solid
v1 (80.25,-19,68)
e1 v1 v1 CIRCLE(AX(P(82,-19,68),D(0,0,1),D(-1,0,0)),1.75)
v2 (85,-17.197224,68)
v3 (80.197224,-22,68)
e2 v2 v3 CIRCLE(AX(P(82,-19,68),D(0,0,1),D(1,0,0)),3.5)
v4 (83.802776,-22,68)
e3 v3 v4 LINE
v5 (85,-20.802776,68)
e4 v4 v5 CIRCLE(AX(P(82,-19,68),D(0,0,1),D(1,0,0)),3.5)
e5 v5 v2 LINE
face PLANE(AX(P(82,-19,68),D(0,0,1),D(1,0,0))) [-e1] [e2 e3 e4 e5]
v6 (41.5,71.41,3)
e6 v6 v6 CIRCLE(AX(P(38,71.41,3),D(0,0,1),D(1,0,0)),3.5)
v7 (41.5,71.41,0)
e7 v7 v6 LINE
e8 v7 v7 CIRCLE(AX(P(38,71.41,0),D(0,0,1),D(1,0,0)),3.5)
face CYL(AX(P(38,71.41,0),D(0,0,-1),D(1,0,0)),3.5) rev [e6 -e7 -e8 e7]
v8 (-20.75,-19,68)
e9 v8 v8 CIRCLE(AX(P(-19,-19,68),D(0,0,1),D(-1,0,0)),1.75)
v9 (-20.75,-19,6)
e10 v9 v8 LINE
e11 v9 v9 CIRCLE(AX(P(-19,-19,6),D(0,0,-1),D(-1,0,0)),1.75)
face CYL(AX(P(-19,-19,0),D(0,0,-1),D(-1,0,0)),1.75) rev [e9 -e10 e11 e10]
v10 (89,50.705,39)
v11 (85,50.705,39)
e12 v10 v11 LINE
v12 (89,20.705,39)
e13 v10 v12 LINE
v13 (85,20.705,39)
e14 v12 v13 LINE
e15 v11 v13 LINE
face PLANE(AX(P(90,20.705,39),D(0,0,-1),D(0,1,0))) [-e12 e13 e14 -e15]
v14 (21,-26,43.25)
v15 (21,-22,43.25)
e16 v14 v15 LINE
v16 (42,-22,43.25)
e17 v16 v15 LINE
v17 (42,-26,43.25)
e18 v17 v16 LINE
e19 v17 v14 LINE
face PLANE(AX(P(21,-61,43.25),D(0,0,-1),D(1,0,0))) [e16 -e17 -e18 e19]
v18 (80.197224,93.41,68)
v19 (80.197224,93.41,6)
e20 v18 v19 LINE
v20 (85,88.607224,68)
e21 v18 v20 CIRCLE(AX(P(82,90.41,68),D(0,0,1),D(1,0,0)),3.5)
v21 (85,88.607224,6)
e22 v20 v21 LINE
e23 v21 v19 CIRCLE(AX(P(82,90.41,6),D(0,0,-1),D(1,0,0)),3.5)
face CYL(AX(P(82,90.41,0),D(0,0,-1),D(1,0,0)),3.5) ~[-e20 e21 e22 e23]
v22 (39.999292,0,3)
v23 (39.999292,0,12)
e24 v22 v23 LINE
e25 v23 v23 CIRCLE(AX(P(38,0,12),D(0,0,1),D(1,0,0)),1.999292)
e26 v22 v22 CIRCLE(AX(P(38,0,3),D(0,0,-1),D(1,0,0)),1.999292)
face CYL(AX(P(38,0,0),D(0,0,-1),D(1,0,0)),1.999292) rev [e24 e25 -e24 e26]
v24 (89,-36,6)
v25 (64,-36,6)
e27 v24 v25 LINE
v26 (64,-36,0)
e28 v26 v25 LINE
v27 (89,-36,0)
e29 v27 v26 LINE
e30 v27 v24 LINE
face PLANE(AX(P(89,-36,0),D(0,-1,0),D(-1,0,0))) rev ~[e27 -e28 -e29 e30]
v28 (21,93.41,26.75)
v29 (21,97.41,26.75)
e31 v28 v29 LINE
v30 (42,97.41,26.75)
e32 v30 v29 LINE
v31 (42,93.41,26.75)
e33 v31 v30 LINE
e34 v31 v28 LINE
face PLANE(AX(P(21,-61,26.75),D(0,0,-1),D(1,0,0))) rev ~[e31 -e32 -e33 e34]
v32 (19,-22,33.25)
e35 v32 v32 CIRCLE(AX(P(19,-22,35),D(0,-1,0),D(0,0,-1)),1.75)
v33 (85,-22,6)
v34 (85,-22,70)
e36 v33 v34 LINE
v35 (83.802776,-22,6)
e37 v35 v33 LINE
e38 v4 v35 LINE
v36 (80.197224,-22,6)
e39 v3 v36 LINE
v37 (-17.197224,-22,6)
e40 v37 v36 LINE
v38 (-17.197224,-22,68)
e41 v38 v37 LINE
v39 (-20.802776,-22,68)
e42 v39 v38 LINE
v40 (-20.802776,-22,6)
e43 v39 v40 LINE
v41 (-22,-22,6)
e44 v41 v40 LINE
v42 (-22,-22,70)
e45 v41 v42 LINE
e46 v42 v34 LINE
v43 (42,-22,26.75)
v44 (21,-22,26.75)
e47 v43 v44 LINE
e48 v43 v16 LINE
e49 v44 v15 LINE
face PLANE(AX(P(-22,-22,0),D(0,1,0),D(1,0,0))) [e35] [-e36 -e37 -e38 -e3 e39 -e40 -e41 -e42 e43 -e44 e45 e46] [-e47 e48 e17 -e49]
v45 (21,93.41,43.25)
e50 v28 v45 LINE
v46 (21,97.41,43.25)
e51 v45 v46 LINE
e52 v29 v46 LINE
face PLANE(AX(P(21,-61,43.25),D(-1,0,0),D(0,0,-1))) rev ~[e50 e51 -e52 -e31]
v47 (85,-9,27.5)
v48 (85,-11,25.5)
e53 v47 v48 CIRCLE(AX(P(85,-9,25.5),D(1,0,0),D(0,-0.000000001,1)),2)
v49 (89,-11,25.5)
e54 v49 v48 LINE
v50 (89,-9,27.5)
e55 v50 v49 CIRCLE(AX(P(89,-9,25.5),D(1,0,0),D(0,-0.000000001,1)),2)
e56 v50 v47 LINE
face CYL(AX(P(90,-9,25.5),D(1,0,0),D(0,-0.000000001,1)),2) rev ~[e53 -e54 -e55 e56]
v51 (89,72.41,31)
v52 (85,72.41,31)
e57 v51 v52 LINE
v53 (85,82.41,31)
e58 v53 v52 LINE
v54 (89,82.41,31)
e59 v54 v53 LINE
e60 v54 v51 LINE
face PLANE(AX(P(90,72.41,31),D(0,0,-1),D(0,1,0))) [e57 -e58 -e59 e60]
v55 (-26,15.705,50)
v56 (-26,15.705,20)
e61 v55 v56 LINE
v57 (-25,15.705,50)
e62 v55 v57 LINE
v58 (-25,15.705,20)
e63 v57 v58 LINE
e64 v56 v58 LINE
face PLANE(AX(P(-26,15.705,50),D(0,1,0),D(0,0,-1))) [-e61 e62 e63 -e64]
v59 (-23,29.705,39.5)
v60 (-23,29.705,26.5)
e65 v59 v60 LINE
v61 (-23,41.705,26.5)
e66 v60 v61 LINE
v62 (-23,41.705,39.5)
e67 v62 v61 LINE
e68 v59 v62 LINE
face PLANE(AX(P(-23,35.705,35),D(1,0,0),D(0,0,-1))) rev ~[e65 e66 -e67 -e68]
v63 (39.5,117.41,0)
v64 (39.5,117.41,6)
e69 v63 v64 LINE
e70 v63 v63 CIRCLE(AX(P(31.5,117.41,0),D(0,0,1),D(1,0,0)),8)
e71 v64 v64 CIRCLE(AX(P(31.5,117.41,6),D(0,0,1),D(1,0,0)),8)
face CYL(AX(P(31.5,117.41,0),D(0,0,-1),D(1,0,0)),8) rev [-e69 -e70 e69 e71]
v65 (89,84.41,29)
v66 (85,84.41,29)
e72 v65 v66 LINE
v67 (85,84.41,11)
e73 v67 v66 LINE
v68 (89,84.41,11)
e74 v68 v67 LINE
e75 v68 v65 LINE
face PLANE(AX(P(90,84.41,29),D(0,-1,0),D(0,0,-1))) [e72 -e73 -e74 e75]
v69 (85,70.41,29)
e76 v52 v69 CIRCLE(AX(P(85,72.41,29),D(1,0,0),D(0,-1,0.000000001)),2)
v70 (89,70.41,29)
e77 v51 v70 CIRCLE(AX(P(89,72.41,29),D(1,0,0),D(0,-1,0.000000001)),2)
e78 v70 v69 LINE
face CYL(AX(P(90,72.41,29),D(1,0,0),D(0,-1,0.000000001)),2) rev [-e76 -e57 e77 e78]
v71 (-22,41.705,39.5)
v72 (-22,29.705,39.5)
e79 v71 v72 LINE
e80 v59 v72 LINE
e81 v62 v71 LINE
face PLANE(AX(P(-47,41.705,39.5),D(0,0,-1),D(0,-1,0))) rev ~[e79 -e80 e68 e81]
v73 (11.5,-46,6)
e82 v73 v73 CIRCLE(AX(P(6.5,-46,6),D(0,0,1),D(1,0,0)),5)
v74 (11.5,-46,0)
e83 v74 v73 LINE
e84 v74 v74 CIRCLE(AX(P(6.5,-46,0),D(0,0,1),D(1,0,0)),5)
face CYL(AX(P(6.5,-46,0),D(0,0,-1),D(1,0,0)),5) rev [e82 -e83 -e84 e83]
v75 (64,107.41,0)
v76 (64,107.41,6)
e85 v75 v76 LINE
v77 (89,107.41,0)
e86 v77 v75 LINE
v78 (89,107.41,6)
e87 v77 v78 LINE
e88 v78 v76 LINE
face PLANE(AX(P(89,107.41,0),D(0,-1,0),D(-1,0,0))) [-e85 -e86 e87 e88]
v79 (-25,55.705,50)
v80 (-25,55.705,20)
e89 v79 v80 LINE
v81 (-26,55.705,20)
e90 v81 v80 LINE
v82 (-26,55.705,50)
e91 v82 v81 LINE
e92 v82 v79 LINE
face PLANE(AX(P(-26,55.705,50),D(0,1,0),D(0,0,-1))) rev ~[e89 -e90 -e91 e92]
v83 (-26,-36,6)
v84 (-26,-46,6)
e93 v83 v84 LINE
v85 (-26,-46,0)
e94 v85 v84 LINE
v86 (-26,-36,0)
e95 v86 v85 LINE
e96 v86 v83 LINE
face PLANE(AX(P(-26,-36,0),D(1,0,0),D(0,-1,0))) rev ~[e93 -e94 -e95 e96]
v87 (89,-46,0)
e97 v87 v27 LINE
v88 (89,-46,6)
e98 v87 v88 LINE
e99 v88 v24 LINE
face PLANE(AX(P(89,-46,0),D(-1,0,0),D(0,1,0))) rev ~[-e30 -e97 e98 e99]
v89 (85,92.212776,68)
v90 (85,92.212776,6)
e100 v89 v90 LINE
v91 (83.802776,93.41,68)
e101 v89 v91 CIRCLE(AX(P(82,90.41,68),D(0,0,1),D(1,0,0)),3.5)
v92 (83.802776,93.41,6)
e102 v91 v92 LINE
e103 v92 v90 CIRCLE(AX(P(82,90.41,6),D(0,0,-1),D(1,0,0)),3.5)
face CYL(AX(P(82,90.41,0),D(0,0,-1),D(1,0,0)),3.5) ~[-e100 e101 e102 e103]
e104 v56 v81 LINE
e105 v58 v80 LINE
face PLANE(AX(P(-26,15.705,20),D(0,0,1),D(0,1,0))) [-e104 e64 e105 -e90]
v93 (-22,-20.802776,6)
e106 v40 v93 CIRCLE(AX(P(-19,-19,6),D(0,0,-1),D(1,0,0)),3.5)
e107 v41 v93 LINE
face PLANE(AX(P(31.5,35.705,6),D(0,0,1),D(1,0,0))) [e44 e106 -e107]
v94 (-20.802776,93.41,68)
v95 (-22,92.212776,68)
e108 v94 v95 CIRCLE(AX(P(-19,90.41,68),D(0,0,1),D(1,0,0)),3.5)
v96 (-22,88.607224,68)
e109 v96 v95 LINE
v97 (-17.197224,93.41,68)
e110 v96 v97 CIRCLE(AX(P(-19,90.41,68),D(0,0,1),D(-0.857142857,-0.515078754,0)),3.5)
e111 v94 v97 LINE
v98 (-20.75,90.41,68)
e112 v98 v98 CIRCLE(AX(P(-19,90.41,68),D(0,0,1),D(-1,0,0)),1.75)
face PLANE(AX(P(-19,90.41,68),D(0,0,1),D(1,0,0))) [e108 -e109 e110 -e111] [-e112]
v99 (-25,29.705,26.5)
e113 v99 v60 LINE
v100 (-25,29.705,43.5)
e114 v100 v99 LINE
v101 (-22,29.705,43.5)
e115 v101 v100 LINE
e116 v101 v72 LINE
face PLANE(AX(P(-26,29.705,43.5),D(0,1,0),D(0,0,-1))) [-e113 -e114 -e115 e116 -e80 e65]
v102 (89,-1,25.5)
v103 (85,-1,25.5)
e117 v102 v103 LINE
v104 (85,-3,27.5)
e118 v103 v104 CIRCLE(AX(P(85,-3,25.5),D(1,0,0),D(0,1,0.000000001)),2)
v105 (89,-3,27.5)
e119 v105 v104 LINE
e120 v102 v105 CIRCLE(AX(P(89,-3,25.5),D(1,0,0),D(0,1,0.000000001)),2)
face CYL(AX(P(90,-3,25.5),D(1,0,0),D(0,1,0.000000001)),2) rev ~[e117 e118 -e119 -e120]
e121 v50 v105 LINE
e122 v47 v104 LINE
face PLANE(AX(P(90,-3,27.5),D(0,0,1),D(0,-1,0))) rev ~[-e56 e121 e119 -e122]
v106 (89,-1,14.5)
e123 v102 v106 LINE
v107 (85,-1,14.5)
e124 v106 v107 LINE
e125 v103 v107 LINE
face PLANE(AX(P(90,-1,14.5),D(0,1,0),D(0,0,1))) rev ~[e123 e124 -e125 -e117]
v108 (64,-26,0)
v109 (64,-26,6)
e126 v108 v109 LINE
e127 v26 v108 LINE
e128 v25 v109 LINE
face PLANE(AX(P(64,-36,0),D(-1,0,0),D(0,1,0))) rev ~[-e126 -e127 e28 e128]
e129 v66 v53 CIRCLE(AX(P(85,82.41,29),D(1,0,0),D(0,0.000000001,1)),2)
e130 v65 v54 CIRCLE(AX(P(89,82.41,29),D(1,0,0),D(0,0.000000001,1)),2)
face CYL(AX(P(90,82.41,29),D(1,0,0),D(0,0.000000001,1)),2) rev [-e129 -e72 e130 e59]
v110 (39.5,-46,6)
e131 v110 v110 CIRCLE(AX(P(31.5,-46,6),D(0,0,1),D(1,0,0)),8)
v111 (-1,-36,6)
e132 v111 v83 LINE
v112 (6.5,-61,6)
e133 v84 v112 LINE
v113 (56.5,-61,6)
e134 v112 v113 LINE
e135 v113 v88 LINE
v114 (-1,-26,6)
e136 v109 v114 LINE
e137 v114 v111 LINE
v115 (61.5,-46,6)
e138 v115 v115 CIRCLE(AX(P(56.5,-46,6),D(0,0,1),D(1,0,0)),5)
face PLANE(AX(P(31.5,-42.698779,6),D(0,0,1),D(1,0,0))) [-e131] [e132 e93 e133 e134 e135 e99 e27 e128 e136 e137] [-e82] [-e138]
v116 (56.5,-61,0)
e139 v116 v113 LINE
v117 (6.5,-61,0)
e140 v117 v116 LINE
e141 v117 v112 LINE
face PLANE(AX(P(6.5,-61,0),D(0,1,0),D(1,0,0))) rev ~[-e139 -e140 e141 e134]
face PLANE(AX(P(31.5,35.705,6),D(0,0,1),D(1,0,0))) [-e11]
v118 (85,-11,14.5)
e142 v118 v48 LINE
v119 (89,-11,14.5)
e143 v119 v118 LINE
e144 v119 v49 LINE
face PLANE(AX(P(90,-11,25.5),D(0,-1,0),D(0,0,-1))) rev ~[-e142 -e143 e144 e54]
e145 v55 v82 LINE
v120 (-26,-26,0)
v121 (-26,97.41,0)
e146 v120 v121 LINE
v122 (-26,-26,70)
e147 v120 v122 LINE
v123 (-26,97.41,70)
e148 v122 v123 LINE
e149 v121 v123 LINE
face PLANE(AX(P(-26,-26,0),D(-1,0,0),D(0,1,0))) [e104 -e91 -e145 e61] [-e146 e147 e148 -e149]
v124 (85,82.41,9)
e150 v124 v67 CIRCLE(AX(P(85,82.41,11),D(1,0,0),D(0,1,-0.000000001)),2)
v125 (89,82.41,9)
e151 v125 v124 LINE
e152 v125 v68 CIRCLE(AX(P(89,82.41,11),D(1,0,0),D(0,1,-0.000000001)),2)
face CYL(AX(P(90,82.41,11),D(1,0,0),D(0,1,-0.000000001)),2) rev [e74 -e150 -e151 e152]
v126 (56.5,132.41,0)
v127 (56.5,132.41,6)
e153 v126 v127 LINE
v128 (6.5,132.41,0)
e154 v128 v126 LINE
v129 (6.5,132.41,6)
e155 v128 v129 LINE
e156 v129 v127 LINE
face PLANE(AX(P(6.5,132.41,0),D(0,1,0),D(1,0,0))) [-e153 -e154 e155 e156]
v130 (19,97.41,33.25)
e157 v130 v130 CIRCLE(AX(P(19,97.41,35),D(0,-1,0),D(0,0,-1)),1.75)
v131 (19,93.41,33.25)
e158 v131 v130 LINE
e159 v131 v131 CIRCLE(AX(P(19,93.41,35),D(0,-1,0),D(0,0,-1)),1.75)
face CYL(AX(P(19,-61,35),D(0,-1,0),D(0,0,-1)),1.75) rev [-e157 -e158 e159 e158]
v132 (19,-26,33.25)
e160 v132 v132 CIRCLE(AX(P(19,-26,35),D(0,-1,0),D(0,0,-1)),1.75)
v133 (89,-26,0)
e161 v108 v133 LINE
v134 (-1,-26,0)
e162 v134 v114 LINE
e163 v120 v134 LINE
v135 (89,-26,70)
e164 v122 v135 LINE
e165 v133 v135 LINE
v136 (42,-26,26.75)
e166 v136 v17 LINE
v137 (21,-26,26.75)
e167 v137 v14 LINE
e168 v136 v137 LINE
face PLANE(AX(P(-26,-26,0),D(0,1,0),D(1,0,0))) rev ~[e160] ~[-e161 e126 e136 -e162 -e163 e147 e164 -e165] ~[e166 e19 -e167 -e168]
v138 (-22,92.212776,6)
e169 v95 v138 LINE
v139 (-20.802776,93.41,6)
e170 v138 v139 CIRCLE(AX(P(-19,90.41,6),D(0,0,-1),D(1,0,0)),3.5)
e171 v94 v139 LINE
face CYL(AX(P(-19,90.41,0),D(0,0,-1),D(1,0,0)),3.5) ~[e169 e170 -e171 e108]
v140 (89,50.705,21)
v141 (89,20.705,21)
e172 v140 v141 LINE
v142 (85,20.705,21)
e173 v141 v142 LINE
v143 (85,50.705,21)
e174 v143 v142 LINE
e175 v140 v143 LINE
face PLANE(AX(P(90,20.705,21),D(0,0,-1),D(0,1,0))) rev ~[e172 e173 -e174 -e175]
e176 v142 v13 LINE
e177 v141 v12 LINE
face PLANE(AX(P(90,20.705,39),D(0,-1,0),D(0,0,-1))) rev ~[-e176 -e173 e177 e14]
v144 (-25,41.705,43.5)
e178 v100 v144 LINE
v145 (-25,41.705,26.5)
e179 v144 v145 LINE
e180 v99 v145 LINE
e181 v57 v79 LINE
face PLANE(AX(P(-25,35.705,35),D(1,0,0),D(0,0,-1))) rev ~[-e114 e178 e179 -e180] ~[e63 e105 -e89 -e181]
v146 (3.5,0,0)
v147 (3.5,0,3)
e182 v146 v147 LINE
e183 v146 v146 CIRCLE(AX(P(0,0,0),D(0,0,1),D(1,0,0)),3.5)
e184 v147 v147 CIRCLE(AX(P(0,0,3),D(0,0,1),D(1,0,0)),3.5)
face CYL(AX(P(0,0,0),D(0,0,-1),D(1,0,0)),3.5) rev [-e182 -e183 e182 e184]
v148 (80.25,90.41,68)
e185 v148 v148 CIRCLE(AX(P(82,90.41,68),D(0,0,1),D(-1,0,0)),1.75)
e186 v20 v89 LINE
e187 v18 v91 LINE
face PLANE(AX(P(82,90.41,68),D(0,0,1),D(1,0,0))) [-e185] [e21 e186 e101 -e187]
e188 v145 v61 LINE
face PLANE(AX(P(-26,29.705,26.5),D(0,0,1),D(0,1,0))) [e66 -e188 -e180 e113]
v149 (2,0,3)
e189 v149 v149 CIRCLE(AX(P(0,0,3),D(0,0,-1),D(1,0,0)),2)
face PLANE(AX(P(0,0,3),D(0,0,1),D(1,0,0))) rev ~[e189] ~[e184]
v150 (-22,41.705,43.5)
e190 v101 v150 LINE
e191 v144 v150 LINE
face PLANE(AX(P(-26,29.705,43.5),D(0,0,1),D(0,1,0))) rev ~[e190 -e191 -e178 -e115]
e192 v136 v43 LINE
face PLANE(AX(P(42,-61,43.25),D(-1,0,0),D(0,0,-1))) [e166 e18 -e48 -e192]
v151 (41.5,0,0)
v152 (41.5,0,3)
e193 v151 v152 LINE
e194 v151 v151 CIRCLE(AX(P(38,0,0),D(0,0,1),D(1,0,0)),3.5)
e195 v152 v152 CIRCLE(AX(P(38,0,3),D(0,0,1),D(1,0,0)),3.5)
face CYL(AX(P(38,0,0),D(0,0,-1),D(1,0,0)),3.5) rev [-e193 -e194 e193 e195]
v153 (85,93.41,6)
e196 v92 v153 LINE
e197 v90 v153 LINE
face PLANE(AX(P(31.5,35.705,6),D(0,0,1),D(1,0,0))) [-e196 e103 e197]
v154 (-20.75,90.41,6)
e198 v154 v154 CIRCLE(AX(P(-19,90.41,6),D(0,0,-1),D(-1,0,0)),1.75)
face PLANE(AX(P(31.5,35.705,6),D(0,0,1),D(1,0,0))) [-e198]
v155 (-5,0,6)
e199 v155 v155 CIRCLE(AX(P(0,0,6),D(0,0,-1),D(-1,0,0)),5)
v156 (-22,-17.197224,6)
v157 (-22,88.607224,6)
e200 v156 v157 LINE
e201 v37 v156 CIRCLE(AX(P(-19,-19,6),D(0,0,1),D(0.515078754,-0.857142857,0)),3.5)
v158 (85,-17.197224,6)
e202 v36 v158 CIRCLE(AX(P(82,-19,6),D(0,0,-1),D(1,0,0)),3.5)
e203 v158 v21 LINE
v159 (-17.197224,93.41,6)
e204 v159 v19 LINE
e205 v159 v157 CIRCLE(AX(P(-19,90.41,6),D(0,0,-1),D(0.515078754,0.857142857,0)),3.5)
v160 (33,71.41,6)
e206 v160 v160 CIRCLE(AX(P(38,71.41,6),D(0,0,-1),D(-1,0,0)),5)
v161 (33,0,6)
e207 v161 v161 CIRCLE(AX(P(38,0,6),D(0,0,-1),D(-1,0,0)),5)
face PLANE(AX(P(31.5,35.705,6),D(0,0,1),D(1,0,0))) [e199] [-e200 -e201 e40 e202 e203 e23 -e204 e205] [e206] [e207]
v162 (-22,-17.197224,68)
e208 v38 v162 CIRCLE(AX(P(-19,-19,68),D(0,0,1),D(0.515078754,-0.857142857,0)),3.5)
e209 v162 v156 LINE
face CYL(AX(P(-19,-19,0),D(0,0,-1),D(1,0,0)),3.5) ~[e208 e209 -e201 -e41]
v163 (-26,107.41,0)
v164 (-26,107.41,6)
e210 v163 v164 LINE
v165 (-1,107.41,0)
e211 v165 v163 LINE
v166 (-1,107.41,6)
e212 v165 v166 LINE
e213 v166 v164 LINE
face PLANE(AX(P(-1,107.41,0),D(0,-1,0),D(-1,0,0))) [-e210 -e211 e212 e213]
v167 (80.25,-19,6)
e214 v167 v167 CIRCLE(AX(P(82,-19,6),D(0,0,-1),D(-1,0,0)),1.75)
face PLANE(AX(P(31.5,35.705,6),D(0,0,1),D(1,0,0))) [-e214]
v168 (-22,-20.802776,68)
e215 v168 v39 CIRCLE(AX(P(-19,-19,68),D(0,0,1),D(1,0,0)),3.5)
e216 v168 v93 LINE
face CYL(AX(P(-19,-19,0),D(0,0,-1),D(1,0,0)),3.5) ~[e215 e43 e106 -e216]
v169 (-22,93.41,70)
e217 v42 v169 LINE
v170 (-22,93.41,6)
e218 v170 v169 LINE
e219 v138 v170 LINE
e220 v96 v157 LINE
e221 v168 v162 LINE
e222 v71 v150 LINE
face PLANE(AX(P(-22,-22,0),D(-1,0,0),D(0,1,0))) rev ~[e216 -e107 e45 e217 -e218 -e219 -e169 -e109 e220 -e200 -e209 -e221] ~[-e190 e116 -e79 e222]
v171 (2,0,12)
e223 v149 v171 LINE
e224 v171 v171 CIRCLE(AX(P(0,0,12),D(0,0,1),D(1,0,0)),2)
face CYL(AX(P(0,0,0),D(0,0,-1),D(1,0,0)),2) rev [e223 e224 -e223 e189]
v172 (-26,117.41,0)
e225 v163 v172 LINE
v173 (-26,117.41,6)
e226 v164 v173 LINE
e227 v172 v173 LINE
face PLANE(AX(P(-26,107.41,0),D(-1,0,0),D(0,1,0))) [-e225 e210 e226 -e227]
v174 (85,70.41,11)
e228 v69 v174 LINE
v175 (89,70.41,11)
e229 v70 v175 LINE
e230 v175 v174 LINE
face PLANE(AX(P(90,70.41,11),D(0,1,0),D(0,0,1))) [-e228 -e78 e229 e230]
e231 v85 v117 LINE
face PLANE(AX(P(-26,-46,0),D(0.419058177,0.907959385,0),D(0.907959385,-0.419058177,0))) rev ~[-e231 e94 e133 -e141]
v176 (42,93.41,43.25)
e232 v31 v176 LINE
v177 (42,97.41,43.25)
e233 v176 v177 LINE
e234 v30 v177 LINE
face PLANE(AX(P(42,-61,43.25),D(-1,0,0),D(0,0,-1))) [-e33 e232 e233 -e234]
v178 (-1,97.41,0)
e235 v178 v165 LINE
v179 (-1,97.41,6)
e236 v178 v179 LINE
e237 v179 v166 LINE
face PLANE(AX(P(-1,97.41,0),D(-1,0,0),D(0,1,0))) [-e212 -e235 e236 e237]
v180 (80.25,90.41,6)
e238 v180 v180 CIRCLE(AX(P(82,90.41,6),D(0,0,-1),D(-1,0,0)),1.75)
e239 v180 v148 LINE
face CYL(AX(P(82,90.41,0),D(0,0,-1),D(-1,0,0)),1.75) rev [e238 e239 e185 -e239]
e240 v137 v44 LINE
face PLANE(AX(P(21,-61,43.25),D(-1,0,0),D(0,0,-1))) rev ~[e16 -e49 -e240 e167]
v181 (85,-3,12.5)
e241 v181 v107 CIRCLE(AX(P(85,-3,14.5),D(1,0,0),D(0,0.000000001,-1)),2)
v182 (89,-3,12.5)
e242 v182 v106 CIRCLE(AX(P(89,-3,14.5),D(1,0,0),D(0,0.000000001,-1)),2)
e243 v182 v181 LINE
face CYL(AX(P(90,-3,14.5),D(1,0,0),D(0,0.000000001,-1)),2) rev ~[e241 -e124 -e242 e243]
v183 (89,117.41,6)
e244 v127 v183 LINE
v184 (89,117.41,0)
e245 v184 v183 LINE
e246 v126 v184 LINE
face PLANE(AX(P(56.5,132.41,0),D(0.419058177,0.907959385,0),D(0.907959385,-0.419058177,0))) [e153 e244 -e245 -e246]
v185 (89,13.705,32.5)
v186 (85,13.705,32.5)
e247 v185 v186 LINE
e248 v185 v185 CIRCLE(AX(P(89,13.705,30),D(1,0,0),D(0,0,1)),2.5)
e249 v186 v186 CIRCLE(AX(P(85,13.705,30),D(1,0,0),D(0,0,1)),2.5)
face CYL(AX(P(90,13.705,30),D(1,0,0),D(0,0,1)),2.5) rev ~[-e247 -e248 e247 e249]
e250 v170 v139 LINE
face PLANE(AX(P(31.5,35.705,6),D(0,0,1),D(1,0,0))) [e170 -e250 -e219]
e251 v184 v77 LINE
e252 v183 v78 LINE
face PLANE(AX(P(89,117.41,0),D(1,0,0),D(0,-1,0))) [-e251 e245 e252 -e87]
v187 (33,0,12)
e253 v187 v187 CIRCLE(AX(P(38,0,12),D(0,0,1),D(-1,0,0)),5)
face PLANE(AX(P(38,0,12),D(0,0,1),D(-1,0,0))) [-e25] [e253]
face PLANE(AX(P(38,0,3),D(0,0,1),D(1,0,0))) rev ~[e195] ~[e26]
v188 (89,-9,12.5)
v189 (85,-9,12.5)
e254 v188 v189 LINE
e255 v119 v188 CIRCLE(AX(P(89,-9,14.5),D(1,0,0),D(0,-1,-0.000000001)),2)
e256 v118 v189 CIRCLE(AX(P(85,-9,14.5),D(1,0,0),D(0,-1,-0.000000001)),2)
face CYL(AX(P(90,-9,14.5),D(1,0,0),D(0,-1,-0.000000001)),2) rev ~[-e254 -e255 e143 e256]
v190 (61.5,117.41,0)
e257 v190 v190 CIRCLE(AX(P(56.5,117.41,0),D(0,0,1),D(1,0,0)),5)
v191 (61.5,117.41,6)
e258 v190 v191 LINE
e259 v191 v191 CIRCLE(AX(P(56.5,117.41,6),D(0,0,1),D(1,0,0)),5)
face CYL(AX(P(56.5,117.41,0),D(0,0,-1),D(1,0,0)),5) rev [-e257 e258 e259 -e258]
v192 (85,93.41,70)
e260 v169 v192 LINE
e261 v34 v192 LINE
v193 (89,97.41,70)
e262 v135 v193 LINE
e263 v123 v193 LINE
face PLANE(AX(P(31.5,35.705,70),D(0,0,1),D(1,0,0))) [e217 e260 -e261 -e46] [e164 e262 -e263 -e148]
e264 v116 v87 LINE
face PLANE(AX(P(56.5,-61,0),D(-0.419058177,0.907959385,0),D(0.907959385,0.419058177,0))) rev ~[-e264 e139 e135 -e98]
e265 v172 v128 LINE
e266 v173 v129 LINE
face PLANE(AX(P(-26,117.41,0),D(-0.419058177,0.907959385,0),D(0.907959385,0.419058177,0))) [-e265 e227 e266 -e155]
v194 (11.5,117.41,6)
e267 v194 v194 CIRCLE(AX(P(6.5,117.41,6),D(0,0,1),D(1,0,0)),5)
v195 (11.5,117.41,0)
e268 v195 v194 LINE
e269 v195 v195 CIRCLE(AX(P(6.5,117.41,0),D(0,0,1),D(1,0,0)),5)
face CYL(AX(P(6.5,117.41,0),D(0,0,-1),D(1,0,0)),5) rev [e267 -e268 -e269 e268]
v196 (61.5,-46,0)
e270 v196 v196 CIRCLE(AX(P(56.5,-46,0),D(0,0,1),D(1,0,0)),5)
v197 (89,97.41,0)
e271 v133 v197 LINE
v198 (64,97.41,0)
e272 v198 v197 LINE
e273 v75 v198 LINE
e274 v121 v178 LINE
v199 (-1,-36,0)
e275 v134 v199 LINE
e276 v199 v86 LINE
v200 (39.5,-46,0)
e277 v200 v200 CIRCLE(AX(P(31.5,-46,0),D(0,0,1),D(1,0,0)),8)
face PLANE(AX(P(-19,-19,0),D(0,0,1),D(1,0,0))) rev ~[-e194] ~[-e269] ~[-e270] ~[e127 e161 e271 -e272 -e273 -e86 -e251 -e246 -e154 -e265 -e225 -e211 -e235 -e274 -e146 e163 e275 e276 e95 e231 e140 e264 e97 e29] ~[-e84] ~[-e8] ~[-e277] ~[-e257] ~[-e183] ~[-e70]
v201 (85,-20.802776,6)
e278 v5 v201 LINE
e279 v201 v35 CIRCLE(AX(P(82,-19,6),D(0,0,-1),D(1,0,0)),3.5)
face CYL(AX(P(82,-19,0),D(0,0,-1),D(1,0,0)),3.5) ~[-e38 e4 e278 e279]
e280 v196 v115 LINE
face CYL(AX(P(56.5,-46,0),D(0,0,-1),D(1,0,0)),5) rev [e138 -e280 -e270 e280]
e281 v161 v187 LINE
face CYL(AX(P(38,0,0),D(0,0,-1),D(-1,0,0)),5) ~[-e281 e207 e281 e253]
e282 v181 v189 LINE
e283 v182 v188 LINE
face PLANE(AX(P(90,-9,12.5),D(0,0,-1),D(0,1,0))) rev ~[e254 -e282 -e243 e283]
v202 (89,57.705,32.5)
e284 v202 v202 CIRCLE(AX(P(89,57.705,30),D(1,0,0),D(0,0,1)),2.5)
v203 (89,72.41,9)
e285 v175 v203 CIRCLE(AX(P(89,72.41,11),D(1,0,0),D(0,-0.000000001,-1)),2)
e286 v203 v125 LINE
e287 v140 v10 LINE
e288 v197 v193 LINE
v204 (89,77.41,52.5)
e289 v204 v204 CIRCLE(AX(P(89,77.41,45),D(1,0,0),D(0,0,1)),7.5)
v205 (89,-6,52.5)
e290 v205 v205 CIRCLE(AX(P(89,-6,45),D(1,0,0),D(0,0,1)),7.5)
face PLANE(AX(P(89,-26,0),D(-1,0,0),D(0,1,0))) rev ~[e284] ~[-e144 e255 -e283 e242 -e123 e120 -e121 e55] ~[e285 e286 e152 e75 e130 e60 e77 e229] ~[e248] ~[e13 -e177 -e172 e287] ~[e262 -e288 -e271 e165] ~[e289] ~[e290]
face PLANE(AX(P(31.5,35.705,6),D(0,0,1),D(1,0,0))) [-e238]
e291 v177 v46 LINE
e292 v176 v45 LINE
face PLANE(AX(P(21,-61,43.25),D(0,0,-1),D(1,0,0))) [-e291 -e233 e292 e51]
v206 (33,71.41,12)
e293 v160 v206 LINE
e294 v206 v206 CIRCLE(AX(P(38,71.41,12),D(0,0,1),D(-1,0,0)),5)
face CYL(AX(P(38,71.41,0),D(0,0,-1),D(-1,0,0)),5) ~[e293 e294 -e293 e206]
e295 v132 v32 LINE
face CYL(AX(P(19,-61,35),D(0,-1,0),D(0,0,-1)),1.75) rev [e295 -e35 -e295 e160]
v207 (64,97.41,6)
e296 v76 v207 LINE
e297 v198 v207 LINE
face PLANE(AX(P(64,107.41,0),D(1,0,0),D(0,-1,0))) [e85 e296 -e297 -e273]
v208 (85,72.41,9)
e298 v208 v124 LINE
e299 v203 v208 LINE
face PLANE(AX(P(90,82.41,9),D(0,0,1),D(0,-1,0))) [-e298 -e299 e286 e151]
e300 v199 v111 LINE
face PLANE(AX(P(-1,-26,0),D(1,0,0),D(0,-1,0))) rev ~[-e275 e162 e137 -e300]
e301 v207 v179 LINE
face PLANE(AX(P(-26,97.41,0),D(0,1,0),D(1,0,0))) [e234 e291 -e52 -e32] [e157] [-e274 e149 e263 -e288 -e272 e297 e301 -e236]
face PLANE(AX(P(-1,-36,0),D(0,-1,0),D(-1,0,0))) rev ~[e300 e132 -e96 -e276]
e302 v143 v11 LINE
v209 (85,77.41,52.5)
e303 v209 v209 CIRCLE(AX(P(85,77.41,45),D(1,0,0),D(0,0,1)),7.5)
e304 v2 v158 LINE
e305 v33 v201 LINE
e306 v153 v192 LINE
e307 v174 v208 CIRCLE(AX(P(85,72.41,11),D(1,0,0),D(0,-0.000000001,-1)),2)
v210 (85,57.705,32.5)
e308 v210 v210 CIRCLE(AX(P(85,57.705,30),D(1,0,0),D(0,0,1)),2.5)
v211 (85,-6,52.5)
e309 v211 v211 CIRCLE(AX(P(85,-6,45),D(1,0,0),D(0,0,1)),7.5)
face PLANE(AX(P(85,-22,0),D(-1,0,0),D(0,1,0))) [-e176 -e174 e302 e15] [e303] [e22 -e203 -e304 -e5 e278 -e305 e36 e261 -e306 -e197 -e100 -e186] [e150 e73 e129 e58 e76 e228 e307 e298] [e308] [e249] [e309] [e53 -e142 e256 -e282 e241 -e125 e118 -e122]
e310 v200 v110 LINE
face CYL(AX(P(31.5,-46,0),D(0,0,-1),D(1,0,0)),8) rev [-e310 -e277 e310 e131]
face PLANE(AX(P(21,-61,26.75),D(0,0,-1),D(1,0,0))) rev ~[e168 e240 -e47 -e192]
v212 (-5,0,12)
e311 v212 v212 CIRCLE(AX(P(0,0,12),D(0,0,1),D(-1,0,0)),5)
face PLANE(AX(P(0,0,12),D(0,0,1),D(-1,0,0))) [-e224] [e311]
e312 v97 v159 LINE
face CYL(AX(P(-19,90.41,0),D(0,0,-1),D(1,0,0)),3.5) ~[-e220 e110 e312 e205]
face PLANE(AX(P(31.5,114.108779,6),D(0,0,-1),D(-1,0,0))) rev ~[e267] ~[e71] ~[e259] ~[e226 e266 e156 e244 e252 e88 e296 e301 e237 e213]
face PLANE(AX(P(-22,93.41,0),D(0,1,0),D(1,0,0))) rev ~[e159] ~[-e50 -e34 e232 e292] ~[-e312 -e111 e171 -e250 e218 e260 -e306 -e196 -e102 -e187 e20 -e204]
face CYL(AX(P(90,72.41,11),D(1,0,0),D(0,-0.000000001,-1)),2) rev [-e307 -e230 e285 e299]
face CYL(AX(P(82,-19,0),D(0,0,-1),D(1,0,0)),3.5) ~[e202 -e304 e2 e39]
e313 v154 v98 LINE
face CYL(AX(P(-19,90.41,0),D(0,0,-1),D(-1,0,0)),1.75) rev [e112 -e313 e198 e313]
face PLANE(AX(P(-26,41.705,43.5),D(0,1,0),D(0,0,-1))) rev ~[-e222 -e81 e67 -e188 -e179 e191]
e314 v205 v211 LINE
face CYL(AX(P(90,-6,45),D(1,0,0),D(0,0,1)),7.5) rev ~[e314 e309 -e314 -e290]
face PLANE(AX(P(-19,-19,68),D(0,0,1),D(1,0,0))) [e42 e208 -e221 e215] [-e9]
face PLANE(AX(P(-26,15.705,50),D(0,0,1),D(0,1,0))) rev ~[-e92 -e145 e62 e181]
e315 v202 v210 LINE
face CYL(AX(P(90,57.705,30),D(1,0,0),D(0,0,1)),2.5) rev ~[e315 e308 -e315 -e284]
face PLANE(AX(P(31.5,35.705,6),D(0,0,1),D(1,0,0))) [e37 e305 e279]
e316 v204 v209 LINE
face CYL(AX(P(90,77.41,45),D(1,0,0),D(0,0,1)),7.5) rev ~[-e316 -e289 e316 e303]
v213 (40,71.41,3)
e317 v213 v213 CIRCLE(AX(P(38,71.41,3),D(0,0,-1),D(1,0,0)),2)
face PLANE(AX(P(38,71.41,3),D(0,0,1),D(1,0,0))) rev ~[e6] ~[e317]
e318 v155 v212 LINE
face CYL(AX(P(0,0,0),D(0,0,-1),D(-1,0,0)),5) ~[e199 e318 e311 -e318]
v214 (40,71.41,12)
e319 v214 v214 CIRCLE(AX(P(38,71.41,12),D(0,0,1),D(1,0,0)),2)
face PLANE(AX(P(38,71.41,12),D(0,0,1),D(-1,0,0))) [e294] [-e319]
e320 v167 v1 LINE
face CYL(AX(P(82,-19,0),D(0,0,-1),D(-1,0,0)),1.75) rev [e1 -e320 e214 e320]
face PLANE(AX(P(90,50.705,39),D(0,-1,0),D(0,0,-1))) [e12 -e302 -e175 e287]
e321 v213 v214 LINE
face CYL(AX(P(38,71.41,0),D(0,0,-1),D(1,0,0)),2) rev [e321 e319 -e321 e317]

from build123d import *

# Parameters (mm, degrees)
CROQUIS1_W                 = 107
CROQUIS1_H                 = 115.41
CROQUIS1_R                 = 2
SALIENTE_EXTRUIR1_DEPTH    = 6
CROQUIS2_W                 = 115
CROQUIS2_H                 = 123.41
CROQUIS2_W_2               = 107
CROQUIS2_H_2               = 115.41
SALIENTE_EXTRUIR2_DEPTH    = 70
CROQUIS3_R                 = 7.5
CORTAR_EXTRUIR1_DEPTH      = 51
CORTAR_EXTRUIR2_DEPTH      = 166
CORTAR_EXTRUIR2_DEPTH_BACK = 31
CROQUIS4_R                 = 1.75
CROQUIS4_W                 = 21
CROQUIS4_H                 = 16.5
CROQUIS6_W                 = 17
CROQUIS6_H                 = 12
CORTAR_EXTRUIR3_DEPTH      = 3
CORTAR_EXTRUIR4_DEPTH      = 18
CORTAR_EXTRUIR4_DEPTH_BACK = 21
CROQUIS8_W                 = 30
CROQUIS8_H                 = 40
CORTAR_EXTRUIR5_DEPTH      = 1
CROQUIS9_R                 = 5
CROQUIS9_R_2               = 1.999291975
CROQUIS9_R_3               = 2
SALIENTE_EXTRUIR3_DEPTH    = 12
CROQUIS10_R                = 3.5
CORTAR_EXTRUIR6_DEPTH      = 3
CROQUIS11_R                = 3.5
CROQUIS11_R_2              = 1.75
SALIENTE_EXTRUIR4_DEPTH    = 68
CROQUIS12_R                = 5
CROQUIS12_R_2              = 8
SALIENTE_EXTRUIR5_DEPTH    = 6
CROQUIS13_R                = 2.5
CROQUIS13_W                = 18
CROQUIS13_H                = 30
CORTAR_EXTRUIR7_DEPTH      = 10


with BuildPart() as part:
    # Croquis1 → Saliente-Extruir1 (new body)
    with BuildSketch(Plane.XY):
        with Locations((31.5, 35.705)):
            Rectangle(CROQUIS1_W, CROQUIS1_H)
        Circle(CROQUIS1_R, mode=Mode.SUBTRACT)
        with Locations((38, 0)):
            Circle(CROQUIS1_R, mode=Mode.SUBTRACT)
        with Locations((38, 71.41)):
            Circle(CROQUIS1_R, mode=Mode.SUBTRACT)
    extrude(amount=SALIENTE_EXTRUIR1_DEPTH)

    # Croquis2 → Saliente-Extruir2 (add)
    with BuildSketch(Plane.XY):
        with Locations((31.5, 35.705)):
            Rectangle(CROQUIS2_W, CROQUIS2_H)
        with Locations((31.5, 35.705)):
            Rectangle(CROQUIS2_W_2, CROQUIS2_H_2, mode=Mode.SUBTRACT)
    extrude(amount=SALIENTE_EXTRUIR2_DEPTH)

    # Croquis3 → Cortar-Extruir1 (cut)
    with BuildSketch(Plane(origin=(90, 0, 0), x_dir=(0, 0, -1), z_dir=(1, 0, 0))):
        with Locations(Location((-45, 77.41, 0), (0, 0, 180))):
            Circle(CROQUIS3_R)
        with Locations(Location((-45, -6, 0), (0, 0, 180))):
            Circle(CROQUIS3_R)
        with BuildLine():
            Line((-14.5, -1), (-25.5, -1))
            ThreePointArc((-25.5, -1), (-26.914213562, -1.585786438), (-27.5, -3))
            Line((-27.5, -3), (-27.5, -9))
            ThreePointArc((-27.5, -9), (-26.914213562, -10.414213562), (-25.5, -11))
            Line((-25.5, -11), (-14.5, -11))
            ThreePointArc((-14.5, -11), (-13.085786438, -10.414213562), (-12.5, -9))
            Line((-12.5, -9), (-12.5, -3))
            ThreePointArc((-12.5, -3), (-13.085786438, -1.585786438), (-14.5, -1))
        make_face()
        with BuildLine():
            Line((-29, 84.41), (-11, 84.41))
            ThreePointArc((-11, 84.41), (-9.585786438, 83.824213562), (-9, 82.41))
            Line((-9, 82.41), (-9, 72.41))
            ThreePointArc((-9, 72.41), (-9.585786438, 70.995786438), (-11, 70.41))
            Line((-11, 70.41), (-29, 70.41))
            ThreePointArc((-29, 70.41), (-30.414213562, 70.995786438), (-31, 72.41))
            Line((-31, 72.41), (-31, 82.41))
            ThreePointArc((-31, 82.41), (-30.414213562, 83.824213562), (-29, 84.41))
        make_face()
    extrude(amount=-CORTAR_EXTRUIR1_DEPTH, mode=Mode.SUBTRACT)

    # Croquis4 → Cortar-Extruir2 (cut, two sides: drawn at the far end of the back side and taken through both)
    with BuildSketch(Plane(origin=(0, -30, 0), x_dir=(1, 0, 0), z_dir=(0, 1, 0)).offset(-CORTAR_EXTRUIR2_DEPTH_BACK)):
        with Locations(Location((19, -35, 0), (0, 0, 90))):
            Circle(CROQUIS4_R)
        with Locations((31.5, -35)):
            Rectangle(CROQUIS4_W, CROQUIS4_H)
    extrude(amount=CORTAR_EXTRUIR2_DEPTH + CORTAR_EXTRUIR2_DEPTH_BACK, mode=Mode.SUBTRACT)

    # Croquis6 → Cortar-Extruir3 (cut)
    with BuildSketch(Plane(origin=(-26, 0, 0), x_dir=(0, 0, -1), z_dir=(1, 0, 0))):
        with Locations((-35, 35.705)):
            Rectangle(CROQUIS6_W, CROQUIS6_H)
    extrude(amount=CORTAR_EXTRUIR3_DEPTH, mode=Mode.SUBTRACT)

    # Croquis7 → Cortar-Extruir4 (cut, two sides: drawn at the far end of the back side and taken through both)
    with BuildSketch(Plane(origin=(-26, 0, 0), x_dir=(0, 0, -1), z_dir=(1, 0, 0)).offset(-CORTAR_EXTRUIR4_DEPTH_BACK)):
        Polygon((-43.5, 41.705), (-40.5, 41.705), (-39.5, 41.705), (-39.5, 29.705), (-40.5, 29.705), (-43.5, 29.705), align=None)
    extrude(amount=CORTAR_EXTRUIR4_DEPTH + CORTAR_EXTRUIR4_DEPTH_BACK, mode=Mode.SUBTRACT)

    # Croquis8 → Cortar-Extruir5 (cut)
    with BuildSketch(Plane(origin=(-26, 0, 0), x_dir=(0, 0, -1), z_dir=(1, 0, 0))):
        with Locations((-35, 35.705)):
            Rectangle(CROQUIS8_W, CROQUIS8_H)
    extrude(amount=CORTAR_EXTRUIR5_DEPTH, mode=Mode.SUBTRACT)

    # Croquis9 → Saliente-Extruir3 (add)
    # profile 1 of 3: a face of its own
    with BuildSketch(Plane.XY):
        with Locations(Location((38, 0, 0), (0, 0, 180))):
            Circle(CROQUIS9_R)
        with Locations((38, 0)):
            Circle(CROQUIS9_R_2, mode=Mode.SUBTRACT)
    # profile 2 of 3: a face of its own
    with BuildSketch(Plane.XY):
        with Locations(Location((0, 0, 0), (0, 0, 180))):
            Circle(CROQUIS9_R)
        Circle(CROQUIS9_R_3, mode=Mode.SUBTRACT)
    # profile 3 of 3: a face of its own
    with BuildSketch(Plane.XY):
        with Locations(Location((38, 71.41, 0), (0, 0, 180))):
            Circle(CROQUIS9_R)
        with Locations((38, 71.41)):
            Circle(CROQUIS9_R_3, mode=Mode.SUBTRACT)
    extrude(amount=SALIENTE_EXTRUIR3_DEPTH)

    # Croquis10 → Cortar-Extruir6 (cut)
    with BuildSketch(Plane.XY):
        with Locations((38, 71.41)):
            Circle(CROQUIS10_R)
        Circle(CROQUIS10_R)
        with Locations((38, 0)):
            Circle(CROQUIS10_R)
    extrude(amount=CORTAR_EXTRUIR6_DEPTH, mode=Mode.SUBTRACT)

    # Croquis11 → Saliente-Extruir4 (add)
    # profile 1 of 4: a face of its own
    with BuildSketch(Plane.XY):
        with Locations((-19, -19)):
            Circle(CROQUIS11_R)
        with Locations(Location((-19, -19, 0), (0, 0, 180))):
            Circle(CROQUIS11_R_2, mode=Mode.SUBTRACT)
    # profile 2 of 4: a face of its own
    with BuildSketch(Plane.XY):
        with Locations((-19, 90.41)):
            Circle(CROQUIS11_R)
        with Locations(Location((-19, 90.41, 0), (0, 0, 180))):
            Circle(CROQUIS11_R_2, mode=Mode.SUBTRACT)
    # profile 3 of 4: a face of its own
    with BuildSketch(Plane.XY):
        with Locations((82, 90.41)):
            Circle(CROQUIS11_R)
        with Locations(Location((82, 90.41, 0), (0, 0, 180))):
            Circle(CROQUIS11_R_2, mode=Mode.SUBTRACT)
    # profile 4 of 4: a face of its own
    with BuildSketch(Plane.XY):
        with Locations((82, -19)):
            Circle(CROQUIS11_R)
        with Locations(Location((82, -19, 0), (0, 0, 180))):
            Circle(CROQUIS11_R_2, mode=Mode.SUBTRACT)
    extrude(amount=SALIENTE_EXTRUIR4_DEPTH)

    # Croquis12 → Saliente-Extruir5 (add)
    # profile 1 of 2: a face of its own
    with BuildSketch(Plane.XY):
        Polygon((64, 97.41), (-1, 97.41), (-1, 107.41), (-26, 107.41), (-26, 117.41), (6.5, 132.41), (56.5, 132.41), (89, 117.41), (89, 107.41), (64, 107.41), align=None)
        with Locations((56.5, 117.41)):
            Circle(CROQUIS12_R, mode=Mode.SUBTRACT)
        with Locations((6.5, 117.41)):
            Circle(CROQUIS12_R, mode=Mode.SUBTRACT)
        with Locations((31.5, 117.41)):
            Circle(CROQUIS12_R_2, mode=Mode.SUBTRACT)
    # profile 2 of 2: a face of its own
    with BuildSketch(Plane.XY):
        Polygon((-1, -36), (-26, -36), (-26, -46), (6.5, -61), (56.5, -61), (89, -46), (89, -36), (64, -36), (64, -26), (-1, -26), align=None)
        with Locations((56.5, -46)):
            Circle(CROQUIS12_R, mode=Mode.SUBTRACT)
        with Locations((31.5, -46)):
            Circle(CROQUIS12_R_2, mode=Mode.SUBTRACT)
        with Locations((6.5, -46)):
            Circle(CROQUIS12_R, mode=Mode.SUBTRACT)
    extrude(amount=SALIENTE_EXTRUIR5_DEPTH)

    # Croquis13 → Cortar-Extruir7 (cut)
    with BuildSketch(Plane(origin=(90, 0, 0), x_dir=(0, 0, -1), z_dir=(1, 0, 0))):
        with Locations(Location((-30, 13.705, 0), (0, 0, 180))):
            Circle(CROQUIS13_R)
        with Locations(Location((-30, 57.705, 0), (0, 0, 180))):
            Circle(CROQUIS13_R)
        with Locations((-30, 35.705)):
            Rectangle(CROQUIS13_W, CROQUIS13_H)
    extrude(amount=-CORTAR_EXTRUIR7_DEPTH, mode=Mode.SUBTRACT)


solid = part.part
